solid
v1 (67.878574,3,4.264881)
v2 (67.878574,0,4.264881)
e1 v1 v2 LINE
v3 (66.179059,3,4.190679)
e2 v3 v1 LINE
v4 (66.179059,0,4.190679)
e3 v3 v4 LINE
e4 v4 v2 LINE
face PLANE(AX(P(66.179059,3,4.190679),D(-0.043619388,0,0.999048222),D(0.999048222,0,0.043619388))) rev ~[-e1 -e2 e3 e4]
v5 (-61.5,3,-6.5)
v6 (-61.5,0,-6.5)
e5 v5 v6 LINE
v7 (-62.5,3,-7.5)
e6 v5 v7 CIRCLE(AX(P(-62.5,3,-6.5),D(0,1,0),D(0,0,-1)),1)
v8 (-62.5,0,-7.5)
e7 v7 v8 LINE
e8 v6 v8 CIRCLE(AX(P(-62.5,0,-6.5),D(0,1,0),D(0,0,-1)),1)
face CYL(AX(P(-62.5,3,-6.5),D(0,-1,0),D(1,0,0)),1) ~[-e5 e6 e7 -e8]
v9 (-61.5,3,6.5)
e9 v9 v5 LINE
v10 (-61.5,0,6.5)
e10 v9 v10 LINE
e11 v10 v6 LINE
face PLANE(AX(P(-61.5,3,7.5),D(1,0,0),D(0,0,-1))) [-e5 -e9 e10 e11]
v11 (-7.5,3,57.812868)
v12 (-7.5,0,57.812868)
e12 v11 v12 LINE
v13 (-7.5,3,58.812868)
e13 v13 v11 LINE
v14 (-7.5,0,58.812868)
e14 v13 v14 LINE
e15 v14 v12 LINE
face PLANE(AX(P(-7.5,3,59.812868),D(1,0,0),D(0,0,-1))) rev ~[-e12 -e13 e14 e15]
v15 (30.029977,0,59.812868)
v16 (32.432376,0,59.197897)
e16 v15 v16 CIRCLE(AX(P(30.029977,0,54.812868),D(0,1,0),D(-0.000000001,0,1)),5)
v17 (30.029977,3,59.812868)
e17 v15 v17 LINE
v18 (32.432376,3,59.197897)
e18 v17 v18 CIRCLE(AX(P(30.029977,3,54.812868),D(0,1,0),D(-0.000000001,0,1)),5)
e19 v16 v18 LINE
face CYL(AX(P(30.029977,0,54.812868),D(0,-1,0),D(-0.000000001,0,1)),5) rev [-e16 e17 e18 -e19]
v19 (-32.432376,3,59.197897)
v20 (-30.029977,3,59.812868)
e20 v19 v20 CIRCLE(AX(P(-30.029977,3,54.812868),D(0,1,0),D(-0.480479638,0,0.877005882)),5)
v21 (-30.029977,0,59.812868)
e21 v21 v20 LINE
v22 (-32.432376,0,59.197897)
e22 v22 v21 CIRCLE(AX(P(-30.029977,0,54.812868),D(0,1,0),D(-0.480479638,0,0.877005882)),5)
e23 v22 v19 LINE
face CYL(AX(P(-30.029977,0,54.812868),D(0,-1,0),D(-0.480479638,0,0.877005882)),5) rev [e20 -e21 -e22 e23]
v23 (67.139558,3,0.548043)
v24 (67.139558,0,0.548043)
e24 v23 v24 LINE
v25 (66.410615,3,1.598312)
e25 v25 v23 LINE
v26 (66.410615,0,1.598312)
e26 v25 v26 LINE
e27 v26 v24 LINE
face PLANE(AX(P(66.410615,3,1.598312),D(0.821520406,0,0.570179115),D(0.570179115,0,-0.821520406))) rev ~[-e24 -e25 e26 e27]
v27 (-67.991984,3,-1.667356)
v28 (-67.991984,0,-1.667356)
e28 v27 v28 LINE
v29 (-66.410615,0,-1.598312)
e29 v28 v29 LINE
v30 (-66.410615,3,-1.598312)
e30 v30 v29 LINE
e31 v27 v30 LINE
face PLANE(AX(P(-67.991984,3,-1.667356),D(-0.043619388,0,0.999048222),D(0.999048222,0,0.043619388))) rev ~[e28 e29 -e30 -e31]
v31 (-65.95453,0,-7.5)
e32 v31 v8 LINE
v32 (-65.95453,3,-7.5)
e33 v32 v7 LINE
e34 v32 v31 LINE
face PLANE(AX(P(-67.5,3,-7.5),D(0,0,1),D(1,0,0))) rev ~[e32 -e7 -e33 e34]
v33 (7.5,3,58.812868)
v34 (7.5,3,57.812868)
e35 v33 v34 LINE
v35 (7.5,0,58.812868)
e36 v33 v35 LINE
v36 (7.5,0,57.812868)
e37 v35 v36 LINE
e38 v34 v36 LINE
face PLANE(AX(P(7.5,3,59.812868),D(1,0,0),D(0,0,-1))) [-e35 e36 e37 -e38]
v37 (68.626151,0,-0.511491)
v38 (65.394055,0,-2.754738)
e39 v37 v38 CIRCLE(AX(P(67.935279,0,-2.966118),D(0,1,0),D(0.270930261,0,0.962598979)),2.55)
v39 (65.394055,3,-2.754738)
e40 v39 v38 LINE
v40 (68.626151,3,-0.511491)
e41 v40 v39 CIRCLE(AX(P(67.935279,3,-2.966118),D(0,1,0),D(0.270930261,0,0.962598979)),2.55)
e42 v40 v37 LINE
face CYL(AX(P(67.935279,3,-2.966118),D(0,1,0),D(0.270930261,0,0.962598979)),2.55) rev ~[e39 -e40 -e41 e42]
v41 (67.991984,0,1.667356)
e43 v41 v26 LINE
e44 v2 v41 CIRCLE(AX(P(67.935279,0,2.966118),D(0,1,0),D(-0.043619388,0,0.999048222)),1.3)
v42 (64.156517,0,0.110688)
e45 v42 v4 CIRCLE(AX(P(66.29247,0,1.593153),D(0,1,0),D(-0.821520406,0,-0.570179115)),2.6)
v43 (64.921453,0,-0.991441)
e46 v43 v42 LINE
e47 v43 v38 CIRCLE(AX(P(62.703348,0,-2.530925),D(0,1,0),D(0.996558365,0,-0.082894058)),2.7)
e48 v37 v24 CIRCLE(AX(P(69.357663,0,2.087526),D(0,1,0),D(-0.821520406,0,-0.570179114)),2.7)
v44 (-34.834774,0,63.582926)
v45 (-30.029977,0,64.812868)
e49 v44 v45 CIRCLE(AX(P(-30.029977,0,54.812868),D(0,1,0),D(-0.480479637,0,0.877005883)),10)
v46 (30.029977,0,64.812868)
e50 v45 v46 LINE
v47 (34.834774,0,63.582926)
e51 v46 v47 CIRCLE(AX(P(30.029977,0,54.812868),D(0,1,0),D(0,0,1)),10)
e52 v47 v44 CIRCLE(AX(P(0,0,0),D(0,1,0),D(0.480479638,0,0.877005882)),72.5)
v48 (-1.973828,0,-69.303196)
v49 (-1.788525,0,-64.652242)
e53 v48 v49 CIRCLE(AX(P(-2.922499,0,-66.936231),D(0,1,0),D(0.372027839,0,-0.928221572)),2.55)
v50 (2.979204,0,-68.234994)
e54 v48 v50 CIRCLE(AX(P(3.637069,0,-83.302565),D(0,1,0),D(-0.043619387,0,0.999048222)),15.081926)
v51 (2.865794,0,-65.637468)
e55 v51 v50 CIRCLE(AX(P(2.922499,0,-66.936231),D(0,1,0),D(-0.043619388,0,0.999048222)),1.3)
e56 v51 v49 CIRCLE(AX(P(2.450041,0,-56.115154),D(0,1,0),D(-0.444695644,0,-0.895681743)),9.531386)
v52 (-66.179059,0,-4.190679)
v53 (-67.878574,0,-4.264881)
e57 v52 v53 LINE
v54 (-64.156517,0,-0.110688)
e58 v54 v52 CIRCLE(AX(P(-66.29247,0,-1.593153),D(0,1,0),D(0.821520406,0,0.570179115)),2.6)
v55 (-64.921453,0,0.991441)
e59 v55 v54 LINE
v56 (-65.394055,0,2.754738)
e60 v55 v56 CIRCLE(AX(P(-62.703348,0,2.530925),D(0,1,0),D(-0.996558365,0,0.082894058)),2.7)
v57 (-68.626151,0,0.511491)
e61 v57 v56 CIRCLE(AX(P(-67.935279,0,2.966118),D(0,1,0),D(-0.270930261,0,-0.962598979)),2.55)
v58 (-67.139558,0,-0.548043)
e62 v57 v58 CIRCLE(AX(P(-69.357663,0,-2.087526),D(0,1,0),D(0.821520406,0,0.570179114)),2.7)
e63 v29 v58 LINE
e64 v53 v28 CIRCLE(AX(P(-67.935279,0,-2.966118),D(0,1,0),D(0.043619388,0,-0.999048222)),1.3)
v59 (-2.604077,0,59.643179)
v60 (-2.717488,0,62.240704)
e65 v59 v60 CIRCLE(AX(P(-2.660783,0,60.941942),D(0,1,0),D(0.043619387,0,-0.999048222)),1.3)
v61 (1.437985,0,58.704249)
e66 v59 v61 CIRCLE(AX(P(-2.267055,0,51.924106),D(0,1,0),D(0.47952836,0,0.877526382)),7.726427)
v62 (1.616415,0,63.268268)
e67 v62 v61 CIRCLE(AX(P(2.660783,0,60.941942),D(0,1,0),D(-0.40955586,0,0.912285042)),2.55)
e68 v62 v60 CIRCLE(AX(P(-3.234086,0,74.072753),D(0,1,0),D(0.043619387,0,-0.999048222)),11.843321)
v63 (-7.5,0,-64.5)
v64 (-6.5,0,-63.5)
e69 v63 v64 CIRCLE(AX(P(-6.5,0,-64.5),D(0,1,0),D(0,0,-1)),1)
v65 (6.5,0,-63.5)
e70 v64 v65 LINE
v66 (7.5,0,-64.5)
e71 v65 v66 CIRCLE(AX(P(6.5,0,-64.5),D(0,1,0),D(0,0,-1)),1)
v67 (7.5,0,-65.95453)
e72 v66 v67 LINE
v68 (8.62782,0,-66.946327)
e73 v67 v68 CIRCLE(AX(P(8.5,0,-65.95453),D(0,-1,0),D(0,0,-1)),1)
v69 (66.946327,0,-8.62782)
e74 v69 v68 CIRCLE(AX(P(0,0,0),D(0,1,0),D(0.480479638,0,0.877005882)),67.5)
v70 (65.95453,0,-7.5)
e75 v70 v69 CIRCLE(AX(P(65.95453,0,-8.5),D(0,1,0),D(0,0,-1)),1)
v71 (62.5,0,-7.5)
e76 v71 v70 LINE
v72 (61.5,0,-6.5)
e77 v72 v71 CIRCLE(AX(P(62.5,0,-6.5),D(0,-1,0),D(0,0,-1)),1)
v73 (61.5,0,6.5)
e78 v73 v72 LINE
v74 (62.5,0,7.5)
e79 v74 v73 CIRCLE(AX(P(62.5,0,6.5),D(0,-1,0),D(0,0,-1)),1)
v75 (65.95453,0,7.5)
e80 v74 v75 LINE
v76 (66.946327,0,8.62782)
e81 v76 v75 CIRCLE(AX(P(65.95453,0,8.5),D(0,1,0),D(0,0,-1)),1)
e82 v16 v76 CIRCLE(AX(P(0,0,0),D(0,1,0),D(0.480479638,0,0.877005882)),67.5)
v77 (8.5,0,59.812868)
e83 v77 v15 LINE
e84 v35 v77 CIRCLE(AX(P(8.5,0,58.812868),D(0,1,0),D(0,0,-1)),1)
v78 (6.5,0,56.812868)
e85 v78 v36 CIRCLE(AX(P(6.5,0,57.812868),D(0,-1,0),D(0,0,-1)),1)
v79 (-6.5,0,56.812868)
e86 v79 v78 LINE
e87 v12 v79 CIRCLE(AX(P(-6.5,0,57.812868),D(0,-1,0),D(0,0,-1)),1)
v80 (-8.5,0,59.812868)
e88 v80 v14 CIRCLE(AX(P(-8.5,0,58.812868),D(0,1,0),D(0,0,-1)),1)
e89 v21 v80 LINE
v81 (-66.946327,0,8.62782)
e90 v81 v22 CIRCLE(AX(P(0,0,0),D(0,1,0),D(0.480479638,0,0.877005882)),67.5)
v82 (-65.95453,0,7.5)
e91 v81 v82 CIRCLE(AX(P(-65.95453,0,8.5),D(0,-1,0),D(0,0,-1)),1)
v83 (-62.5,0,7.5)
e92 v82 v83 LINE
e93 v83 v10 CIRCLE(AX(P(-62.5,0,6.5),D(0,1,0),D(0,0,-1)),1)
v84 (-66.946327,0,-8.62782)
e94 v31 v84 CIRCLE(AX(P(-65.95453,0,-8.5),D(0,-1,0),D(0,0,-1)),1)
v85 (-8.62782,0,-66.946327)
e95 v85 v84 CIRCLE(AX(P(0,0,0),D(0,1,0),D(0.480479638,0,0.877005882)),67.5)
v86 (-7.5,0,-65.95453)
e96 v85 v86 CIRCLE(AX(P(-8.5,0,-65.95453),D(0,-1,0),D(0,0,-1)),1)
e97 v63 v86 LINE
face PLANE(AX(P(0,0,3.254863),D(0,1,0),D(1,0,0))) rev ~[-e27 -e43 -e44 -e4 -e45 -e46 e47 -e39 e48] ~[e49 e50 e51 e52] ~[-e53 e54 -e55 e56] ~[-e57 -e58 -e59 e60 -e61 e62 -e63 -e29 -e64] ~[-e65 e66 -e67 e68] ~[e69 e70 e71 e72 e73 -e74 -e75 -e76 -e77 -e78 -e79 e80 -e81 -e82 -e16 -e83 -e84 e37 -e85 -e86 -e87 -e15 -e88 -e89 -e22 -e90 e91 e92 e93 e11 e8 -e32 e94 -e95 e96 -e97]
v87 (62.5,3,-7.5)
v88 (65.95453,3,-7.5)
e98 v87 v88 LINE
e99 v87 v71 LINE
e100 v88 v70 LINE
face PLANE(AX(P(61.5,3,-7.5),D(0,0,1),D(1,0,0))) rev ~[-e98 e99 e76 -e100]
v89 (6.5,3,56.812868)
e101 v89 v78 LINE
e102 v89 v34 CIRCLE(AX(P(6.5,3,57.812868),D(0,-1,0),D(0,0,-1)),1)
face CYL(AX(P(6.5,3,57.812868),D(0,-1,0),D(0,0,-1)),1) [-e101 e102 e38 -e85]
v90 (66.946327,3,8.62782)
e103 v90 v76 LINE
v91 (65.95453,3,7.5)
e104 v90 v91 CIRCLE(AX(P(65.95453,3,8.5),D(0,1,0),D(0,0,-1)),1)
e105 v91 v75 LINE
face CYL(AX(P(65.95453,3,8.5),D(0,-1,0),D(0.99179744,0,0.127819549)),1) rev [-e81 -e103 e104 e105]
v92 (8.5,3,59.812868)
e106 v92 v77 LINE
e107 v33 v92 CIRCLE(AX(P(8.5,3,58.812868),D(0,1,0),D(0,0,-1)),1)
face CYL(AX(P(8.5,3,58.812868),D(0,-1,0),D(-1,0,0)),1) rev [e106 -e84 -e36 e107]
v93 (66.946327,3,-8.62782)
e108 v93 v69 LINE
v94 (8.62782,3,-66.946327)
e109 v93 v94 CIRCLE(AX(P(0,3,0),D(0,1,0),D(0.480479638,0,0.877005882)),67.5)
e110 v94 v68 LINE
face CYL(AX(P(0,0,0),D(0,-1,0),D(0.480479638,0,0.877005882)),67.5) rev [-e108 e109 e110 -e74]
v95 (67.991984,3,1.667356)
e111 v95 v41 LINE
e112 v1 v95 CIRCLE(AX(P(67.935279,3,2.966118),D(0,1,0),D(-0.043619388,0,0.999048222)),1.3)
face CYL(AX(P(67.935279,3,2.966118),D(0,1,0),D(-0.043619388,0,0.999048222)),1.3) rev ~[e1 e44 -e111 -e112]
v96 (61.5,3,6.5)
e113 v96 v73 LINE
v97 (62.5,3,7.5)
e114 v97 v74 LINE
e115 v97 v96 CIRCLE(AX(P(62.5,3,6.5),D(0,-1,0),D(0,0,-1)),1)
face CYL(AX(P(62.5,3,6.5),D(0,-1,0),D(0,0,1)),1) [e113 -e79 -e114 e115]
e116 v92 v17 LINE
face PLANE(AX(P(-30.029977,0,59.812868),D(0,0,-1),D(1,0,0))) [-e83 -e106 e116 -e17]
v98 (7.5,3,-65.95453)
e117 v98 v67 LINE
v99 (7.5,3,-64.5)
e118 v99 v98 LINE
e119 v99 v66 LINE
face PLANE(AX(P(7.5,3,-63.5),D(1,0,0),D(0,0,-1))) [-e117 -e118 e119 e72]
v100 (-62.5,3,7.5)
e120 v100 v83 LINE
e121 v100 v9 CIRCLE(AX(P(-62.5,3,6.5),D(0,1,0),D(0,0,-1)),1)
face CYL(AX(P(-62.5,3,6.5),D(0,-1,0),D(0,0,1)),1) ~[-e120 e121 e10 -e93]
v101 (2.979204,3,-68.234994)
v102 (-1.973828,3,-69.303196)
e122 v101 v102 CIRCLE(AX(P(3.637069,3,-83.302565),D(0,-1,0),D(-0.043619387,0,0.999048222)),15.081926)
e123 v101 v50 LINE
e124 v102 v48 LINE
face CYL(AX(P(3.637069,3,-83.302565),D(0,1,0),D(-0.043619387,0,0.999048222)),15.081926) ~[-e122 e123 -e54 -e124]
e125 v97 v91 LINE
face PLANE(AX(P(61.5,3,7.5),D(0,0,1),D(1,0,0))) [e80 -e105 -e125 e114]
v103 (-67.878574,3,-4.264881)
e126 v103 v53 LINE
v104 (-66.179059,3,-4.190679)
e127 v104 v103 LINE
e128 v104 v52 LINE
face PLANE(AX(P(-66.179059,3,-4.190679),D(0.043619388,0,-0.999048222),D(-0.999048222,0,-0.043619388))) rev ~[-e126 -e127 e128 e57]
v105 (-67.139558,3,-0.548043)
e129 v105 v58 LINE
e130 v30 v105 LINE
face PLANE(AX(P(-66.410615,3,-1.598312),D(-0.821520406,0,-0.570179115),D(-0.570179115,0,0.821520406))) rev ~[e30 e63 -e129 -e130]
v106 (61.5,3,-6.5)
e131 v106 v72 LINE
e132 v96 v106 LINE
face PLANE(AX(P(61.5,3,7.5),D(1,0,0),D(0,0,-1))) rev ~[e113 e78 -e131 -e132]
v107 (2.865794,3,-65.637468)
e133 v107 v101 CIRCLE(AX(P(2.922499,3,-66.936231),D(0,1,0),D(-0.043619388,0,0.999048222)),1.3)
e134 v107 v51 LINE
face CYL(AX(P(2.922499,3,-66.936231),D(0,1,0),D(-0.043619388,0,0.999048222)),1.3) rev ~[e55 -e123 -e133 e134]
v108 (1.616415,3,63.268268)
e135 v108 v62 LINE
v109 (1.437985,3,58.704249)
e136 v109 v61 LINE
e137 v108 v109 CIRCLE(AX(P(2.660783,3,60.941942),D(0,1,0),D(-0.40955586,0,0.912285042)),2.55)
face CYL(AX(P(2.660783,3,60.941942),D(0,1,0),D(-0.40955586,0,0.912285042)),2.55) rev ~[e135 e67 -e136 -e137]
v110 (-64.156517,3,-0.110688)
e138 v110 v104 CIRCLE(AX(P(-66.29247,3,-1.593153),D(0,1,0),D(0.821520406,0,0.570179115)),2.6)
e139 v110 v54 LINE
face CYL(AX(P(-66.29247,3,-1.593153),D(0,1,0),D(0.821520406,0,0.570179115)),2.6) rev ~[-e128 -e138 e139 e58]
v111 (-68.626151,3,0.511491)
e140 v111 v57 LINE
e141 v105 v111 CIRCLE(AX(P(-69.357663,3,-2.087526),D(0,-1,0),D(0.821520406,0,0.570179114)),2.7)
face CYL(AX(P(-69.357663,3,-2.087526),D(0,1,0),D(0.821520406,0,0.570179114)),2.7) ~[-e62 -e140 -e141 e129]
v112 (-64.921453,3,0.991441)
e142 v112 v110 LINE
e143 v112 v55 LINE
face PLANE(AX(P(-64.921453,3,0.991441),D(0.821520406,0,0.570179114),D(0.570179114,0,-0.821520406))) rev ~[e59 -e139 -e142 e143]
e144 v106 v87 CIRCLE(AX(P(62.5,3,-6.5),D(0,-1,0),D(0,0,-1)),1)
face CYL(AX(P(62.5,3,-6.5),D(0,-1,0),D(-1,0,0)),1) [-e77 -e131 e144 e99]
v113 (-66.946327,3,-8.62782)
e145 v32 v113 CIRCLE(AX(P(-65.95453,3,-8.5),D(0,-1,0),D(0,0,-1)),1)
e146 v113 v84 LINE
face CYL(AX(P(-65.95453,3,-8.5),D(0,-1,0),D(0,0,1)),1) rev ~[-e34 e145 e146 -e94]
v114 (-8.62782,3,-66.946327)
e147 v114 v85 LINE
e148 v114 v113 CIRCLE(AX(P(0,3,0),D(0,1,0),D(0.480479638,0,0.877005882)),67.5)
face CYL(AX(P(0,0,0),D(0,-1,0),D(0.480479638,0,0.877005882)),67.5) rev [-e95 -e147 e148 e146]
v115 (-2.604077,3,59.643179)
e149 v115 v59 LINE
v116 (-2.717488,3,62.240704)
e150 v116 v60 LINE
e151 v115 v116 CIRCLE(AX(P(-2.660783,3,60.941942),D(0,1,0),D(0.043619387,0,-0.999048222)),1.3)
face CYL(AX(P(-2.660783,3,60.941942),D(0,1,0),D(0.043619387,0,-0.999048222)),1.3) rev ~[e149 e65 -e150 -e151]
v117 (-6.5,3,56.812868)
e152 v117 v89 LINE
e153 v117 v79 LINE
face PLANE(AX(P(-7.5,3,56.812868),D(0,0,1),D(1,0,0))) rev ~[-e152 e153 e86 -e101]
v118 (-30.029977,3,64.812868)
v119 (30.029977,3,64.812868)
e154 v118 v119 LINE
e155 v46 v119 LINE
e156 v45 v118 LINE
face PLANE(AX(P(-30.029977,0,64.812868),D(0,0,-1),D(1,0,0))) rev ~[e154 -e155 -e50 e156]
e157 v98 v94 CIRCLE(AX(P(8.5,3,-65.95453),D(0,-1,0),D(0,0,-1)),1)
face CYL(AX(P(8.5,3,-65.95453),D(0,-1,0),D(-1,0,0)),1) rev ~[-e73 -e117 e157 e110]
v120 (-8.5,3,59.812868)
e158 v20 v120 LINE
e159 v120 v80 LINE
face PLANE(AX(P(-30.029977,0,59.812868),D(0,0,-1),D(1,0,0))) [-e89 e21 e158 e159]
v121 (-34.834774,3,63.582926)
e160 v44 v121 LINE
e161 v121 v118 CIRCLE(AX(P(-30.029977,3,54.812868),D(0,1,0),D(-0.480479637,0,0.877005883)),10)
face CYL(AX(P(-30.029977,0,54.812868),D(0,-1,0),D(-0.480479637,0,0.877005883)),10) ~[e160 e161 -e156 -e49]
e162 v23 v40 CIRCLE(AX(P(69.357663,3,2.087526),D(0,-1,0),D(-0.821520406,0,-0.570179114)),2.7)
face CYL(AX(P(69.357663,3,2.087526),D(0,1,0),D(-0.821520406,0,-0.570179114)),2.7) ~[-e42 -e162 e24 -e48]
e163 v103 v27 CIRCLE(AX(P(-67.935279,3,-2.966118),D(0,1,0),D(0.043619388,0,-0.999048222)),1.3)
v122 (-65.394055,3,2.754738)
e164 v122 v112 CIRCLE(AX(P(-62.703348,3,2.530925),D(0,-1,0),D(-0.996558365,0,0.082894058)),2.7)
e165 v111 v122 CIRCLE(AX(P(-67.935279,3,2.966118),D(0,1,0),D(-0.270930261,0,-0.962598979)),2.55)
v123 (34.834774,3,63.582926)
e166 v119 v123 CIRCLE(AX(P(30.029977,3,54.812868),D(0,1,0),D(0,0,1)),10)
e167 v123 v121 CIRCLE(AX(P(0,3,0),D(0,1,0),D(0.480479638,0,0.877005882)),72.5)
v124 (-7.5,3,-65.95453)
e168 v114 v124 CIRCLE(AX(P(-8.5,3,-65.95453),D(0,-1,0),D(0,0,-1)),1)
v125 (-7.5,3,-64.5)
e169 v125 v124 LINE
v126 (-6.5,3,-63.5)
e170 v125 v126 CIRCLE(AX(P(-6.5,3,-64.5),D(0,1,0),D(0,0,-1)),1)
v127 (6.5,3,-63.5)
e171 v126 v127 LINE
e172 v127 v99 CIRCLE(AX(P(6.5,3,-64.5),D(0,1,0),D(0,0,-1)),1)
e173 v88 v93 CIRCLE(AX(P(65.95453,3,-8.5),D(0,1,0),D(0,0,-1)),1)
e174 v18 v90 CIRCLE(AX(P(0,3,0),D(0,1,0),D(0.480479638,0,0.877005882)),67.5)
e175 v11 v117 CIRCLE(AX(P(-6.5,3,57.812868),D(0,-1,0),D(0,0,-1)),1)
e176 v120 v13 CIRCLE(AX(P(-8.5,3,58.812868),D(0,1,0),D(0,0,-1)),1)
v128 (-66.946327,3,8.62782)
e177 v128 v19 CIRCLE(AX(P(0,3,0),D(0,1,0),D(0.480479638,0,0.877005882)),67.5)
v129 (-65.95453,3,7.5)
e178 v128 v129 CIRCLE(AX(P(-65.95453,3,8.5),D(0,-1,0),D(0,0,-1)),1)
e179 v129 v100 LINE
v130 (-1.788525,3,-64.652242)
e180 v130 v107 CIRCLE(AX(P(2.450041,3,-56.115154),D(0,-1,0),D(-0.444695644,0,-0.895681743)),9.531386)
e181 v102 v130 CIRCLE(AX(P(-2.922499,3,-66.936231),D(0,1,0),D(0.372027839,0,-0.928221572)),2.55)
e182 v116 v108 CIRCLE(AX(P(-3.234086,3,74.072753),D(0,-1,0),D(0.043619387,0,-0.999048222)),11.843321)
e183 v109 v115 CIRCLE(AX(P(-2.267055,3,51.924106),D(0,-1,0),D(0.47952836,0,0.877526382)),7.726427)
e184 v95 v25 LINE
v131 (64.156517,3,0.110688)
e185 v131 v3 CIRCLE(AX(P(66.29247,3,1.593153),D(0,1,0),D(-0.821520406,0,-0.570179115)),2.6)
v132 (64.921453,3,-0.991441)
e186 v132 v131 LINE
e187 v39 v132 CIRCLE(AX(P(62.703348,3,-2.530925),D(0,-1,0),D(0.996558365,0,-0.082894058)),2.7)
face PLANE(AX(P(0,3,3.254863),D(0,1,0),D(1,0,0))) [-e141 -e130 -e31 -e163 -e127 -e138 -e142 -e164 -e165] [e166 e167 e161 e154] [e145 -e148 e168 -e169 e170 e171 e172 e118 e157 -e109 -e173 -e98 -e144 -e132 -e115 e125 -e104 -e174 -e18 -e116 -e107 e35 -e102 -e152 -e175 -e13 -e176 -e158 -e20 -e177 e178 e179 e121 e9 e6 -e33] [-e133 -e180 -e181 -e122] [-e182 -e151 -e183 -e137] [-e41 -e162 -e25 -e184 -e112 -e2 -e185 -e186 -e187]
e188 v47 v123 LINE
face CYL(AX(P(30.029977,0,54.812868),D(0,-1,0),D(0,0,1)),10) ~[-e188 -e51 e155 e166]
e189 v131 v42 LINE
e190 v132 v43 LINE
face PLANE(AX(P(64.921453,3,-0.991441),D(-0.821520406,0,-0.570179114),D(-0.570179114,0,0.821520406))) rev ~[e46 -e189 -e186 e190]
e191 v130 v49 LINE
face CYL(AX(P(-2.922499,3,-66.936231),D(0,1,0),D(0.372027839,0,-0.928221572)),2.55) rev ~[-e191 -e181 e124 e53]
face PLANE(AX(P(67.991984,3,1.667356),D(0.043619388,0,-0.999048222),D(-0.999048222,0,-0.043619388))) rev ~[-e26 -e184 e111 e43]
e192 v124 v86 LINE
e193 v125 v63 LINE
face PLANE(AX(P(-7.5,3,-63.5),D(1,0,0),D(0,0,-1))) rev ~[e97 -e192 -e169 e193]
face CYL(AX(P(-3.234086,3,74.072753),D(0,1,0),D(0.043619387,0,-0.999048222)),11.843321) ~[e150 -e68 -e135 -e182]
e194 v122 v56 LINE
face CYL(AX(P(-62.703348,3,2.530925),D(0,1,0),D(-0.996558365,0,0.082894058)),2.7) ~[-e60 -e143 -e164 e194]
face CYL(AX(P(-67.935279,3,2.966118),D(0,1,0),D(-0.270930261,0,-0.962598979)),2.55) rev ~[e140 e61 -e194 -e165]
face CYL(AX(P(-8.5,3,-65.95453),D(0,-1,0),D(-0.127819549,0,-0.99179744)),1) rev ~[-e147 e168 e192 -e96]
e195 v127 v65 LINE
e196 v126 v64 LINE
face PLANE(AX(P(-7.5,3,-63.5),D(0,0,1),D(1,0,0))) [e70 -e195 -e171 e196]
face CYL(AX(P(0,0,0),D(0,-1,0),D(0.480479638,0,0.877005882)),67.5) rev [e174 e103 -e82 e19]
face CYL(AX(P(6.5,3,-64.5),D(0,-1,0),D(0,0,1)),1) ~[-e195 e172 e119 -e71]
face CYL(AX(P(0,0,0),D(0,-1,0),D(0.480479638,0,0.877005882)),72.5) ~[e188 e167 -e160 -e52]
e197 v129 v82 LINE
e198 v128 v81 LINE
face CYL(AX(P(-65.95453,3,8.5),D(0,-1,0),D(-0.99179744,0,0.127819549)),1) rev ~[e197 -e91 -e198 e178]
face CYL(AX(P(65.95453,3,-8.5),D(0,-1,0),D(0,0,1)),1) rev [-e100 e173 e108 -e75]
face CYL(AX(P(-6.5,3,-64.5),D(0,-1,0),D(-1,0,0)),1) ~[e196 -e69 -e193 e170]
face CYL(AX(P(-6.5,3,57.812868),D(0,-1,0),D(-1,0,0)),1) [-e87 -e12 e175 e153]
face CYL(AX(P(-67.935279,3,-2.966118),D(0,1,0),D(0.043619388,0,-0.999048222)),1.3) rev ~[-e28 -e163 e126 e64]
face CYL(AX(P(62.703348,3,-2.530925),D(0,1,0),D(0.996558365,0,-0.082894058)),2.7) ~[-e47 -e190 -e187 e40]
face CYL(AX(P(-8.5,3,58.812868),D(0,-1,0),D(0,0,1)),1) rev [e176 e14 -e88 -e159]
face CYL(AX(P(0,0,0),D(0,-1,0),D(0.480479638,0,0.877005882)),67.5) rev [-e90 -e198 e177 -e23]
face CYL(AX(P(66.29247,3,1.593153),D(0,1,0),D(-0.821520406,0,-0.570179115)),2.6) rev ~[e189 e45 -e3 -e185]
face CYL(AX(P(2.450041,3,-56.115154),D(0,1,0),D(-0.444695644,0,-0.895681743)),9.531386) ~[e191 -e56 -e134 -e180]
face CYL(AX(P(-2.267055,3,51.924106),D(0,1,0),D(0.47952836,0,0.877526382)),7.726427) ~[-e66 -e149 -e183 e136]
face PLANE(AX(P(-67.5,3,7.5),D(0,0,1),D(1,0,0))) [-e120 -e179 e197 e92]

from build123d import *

# Parameters (mm, degrees)
BOSS_EXTRUDE1_DEPTH = 3
SKETCH2_W           = 15
SKETCH2_H           = 3
SKETCH2_W_2         = 6
SKETCH2_H_2         = 15
SKETCH2_H_3         = 4
BOSS_EXTRUDE2_DEPTH = 3
CUT_EXTRUDE1_DEPTH  = 103.574363269
CUT_EXTRUDE2_DEPTH  = 103.574363269
FILLET1_R           = 1


with BuildPart() as part:
    # Sketch1 → Boss-Extrude1 (new body)
    with BuildSketch(Plane(origin=(0, 0, 0), x_dir=(1, 0, 0), z_dir=(0, 1, 0))):
        with BuildLine():
            Line((-30.029977361, -64.812867647), (30.029977361, -64.812867647))
            ThreePointArc((30.029977361, -64.812867647), (32.509837414, -64.500503794), (34.834773739, -63.582926471))
            ThreePointArc((34.834773739, -63.582926471), (0, 72.5), (-34.834773739, -63.582926471))
            ThreePointArc((-34.834773739, -63.582926471), (-32.509837414, -64.500503794), (-30.029977361, -64.812867647))
        make_face()
        with BuildLine():
            Line((-30.029977361, -59.812867647), (30.029977361, -59.812867647))
            ThreePointArc((30.029977361, -59.812867647), (31.269907388, -59.656685721), (32.43237555, -59.197897059))
            ThreePointArc((32.43237555, -59.197897059), (0, 67.5), (-32.43237555, -59.197897059))
            ThreePointArc((-32.43237555, -59.197897059), (-31.269907388, -59.656685721), (-30.029977361, -59.812867647))
        make_face(mode=Mode.SUBTRACT)
    extrude(amount=BOSS_EXTRUDE1_DEPTH)

    # Sketch2 → Boss-Extrude2 (add)
    with BuildSketch(Plane(origin=(0, 3, 0), x_dir=(1, 0, 0), z_dir=(0, 1, 0))):
        with Locations((0, -58.312867647)):
            Rectangle(SKETCH2_W, SKETCH2_H)
        with Locations((-64.5, 0)):
            Rectangle(SKETCH2_W_2, SKETCH2_H_2)
        with Locations((64.5, 0)):
            Rectangle(SKETCH2_W_2, SKETCH2_H_2)
        with Locations((0, 65.5)):
            Rectangle(SKETCH2_W, SKETCH2_H_3)
    extrude(amount=-BOSS_EXTRUDE2_DEPTH)

    # Sketch3 → Cut-Extrude1 (cut, through all)
    with BuildSketch(Plane(origin=(0, 3, 0), x_dir=(1, 0, 0), z_dir=(0, 1, 0))):
        with BuildLine():
            ThreePointArc((1.616415185, -63.268268373), (5.208836136, -60.842325617), (1.43798531, -58.704249242))
            ThreePointArc((1.43798531, -58.704249242), (-0.518832115, -59.450153065), (-2.604077426, -59.643178828))
            ThreePointArc((-2.604077426, -59.643178828), (-3.959545317, -60.885236313), (-2.717487833, -62.240704205))
            ThreePointArc((-2.717487833, -62.240704205), (-0.501795592, -62.548915084), (1.616415185, -63.268268373))
        make_face()
        with BuildLine():
            ThreePointArc((2.86579375, 65.637468158), (4.221261642, 66.879525642), (2.979204157, 68.234993534))
            ThreePointArc((2.979204157, 68.234993534), (0.457508066, 68.55960428), (-1.973827963, 69.303195854))
            ThreePointArc((-1.973827963, 69.303195854), (-5.470477452, 66.834714499), (-1.788525063, 64.652242401))
            ThreePointArc((-1.788525063, 64.652242401), (0.476176032, 65.439915463), (2.86579375, 65.637468158))
        make_face()
    extrude(amount=-CUT_EXTRUDE1_DEPTH, mode=Mode.SUBTRACT)

    # Sketch4 → Cut-Extrude2 (cut, through all)
    with BuildSketch(Plane(origin=(0, 3, 0), x_dir=(1, 0, 0), z_dir=(0, 1, 0))):
        with BuildLine():
            Line((-67.991984271, 1.667355653), (-66.410615041, 1.598311581))
            Line((-66.410615041, 1.598311581), (-67.139557844, 0.548042688))
            ThreePointArc((-67.139557844, 0.548042688), (-67.790591563, -0.111174979), (-68.626151234, -0.511490946))
            ThreePointArc((-68.626151234, -0.511490946), (-69.389235809, -5.060995376), (-65.394055237, -2.75473849))
            ThreePointArc((-65.394055237, -2.75473849), (-65.311299925, -1.831936022), (-64.921452747, -0.991440921))
            Line((-64.921452747, -0.991440921), (-64.156516626, 0.110687546))
            ThreePointArc((-64.156516626, 0.110687546), (-63.962986737, 2.747929937), (-66.179059274, 4.190678619))
            Line((-66.179059274, 4.190678619), (-67.878573864, 4.264881029))
            ThreePointArc((-67.878573864, 4.264881029), (-69.234041756, 3.022823544), (-67.991984271, 1.667355653))
        make_face()
        with BuildLine():
            Line((67.991984271, -1.667355653), (66.410615041, -1.598311581))
            Line((66.410615041, -1.598311581), (67.139557844, -0.548042688))
            ThreePointArc((67.139557844, -0.548042688), (67.790591563, 0.111174979), (68.626151234, 0.511490946))
            ThreePointArc((68.626151234, 0.511490946), (69.389235809, 5.060995376), (65.394055237, 2.75473849))
            ThreePointArc((65.394055237, 2.75473849), (65.311299925, 1.831936022), (64.921452747, 0.991440921))
            Line((64.921452747, 0.991440921), (64.156516626, -0.110687546))
            ThreePointArc((64.156516626, -0.110687546), (63.962986737, -2.747929937), (66.179059274, -4.190678619))
            Line((66.179059274, -4.190678619), (67.878573864, -4.264881029))
            ThreePointArc((67.878573864, -4.264881029), (69.234041756, -3.022823544), (67.991984271, -1.667355653))
        make_face()
    extrude(amount=-CUT_EXTRUDE2_DEPTH, mode=Mode.SUBTRACT)

    # Fillet1
    fillet1_edges = [part.edges().sort_by_distance(p)[0] for p in [
        (7.5, 1.5, 56.812867647),
        (7.5, 1.5, 59.812867647),
        (-7.5, 1.5, 59.812867647),
        (-7.5, 1.5, 56.812867647),
        (-67.082039325, 1.5, -7.5),
        (-67.082039325, 1.5, 7.5),
        (-61.5, 1.5, -7.5),
        (-61.5, 1.5, 7.5),
        (67.082039325, 1.5, 7.5),
        (67.082039325, 1.5, -7.5),
        (61.5, 1.5, 7.5),
        (61.5, 1.5, -7.5),
        (7.5, 1.5, -67.082039325),
        (7.5, 1.5, -63.5),
        (-7.5, 1.5, -67.082039325),
        (-7.5, 1.5, -63.5),
    ]]
    fillet(fillet1_edges, radius=FILLET1_R)


solid = part.part
